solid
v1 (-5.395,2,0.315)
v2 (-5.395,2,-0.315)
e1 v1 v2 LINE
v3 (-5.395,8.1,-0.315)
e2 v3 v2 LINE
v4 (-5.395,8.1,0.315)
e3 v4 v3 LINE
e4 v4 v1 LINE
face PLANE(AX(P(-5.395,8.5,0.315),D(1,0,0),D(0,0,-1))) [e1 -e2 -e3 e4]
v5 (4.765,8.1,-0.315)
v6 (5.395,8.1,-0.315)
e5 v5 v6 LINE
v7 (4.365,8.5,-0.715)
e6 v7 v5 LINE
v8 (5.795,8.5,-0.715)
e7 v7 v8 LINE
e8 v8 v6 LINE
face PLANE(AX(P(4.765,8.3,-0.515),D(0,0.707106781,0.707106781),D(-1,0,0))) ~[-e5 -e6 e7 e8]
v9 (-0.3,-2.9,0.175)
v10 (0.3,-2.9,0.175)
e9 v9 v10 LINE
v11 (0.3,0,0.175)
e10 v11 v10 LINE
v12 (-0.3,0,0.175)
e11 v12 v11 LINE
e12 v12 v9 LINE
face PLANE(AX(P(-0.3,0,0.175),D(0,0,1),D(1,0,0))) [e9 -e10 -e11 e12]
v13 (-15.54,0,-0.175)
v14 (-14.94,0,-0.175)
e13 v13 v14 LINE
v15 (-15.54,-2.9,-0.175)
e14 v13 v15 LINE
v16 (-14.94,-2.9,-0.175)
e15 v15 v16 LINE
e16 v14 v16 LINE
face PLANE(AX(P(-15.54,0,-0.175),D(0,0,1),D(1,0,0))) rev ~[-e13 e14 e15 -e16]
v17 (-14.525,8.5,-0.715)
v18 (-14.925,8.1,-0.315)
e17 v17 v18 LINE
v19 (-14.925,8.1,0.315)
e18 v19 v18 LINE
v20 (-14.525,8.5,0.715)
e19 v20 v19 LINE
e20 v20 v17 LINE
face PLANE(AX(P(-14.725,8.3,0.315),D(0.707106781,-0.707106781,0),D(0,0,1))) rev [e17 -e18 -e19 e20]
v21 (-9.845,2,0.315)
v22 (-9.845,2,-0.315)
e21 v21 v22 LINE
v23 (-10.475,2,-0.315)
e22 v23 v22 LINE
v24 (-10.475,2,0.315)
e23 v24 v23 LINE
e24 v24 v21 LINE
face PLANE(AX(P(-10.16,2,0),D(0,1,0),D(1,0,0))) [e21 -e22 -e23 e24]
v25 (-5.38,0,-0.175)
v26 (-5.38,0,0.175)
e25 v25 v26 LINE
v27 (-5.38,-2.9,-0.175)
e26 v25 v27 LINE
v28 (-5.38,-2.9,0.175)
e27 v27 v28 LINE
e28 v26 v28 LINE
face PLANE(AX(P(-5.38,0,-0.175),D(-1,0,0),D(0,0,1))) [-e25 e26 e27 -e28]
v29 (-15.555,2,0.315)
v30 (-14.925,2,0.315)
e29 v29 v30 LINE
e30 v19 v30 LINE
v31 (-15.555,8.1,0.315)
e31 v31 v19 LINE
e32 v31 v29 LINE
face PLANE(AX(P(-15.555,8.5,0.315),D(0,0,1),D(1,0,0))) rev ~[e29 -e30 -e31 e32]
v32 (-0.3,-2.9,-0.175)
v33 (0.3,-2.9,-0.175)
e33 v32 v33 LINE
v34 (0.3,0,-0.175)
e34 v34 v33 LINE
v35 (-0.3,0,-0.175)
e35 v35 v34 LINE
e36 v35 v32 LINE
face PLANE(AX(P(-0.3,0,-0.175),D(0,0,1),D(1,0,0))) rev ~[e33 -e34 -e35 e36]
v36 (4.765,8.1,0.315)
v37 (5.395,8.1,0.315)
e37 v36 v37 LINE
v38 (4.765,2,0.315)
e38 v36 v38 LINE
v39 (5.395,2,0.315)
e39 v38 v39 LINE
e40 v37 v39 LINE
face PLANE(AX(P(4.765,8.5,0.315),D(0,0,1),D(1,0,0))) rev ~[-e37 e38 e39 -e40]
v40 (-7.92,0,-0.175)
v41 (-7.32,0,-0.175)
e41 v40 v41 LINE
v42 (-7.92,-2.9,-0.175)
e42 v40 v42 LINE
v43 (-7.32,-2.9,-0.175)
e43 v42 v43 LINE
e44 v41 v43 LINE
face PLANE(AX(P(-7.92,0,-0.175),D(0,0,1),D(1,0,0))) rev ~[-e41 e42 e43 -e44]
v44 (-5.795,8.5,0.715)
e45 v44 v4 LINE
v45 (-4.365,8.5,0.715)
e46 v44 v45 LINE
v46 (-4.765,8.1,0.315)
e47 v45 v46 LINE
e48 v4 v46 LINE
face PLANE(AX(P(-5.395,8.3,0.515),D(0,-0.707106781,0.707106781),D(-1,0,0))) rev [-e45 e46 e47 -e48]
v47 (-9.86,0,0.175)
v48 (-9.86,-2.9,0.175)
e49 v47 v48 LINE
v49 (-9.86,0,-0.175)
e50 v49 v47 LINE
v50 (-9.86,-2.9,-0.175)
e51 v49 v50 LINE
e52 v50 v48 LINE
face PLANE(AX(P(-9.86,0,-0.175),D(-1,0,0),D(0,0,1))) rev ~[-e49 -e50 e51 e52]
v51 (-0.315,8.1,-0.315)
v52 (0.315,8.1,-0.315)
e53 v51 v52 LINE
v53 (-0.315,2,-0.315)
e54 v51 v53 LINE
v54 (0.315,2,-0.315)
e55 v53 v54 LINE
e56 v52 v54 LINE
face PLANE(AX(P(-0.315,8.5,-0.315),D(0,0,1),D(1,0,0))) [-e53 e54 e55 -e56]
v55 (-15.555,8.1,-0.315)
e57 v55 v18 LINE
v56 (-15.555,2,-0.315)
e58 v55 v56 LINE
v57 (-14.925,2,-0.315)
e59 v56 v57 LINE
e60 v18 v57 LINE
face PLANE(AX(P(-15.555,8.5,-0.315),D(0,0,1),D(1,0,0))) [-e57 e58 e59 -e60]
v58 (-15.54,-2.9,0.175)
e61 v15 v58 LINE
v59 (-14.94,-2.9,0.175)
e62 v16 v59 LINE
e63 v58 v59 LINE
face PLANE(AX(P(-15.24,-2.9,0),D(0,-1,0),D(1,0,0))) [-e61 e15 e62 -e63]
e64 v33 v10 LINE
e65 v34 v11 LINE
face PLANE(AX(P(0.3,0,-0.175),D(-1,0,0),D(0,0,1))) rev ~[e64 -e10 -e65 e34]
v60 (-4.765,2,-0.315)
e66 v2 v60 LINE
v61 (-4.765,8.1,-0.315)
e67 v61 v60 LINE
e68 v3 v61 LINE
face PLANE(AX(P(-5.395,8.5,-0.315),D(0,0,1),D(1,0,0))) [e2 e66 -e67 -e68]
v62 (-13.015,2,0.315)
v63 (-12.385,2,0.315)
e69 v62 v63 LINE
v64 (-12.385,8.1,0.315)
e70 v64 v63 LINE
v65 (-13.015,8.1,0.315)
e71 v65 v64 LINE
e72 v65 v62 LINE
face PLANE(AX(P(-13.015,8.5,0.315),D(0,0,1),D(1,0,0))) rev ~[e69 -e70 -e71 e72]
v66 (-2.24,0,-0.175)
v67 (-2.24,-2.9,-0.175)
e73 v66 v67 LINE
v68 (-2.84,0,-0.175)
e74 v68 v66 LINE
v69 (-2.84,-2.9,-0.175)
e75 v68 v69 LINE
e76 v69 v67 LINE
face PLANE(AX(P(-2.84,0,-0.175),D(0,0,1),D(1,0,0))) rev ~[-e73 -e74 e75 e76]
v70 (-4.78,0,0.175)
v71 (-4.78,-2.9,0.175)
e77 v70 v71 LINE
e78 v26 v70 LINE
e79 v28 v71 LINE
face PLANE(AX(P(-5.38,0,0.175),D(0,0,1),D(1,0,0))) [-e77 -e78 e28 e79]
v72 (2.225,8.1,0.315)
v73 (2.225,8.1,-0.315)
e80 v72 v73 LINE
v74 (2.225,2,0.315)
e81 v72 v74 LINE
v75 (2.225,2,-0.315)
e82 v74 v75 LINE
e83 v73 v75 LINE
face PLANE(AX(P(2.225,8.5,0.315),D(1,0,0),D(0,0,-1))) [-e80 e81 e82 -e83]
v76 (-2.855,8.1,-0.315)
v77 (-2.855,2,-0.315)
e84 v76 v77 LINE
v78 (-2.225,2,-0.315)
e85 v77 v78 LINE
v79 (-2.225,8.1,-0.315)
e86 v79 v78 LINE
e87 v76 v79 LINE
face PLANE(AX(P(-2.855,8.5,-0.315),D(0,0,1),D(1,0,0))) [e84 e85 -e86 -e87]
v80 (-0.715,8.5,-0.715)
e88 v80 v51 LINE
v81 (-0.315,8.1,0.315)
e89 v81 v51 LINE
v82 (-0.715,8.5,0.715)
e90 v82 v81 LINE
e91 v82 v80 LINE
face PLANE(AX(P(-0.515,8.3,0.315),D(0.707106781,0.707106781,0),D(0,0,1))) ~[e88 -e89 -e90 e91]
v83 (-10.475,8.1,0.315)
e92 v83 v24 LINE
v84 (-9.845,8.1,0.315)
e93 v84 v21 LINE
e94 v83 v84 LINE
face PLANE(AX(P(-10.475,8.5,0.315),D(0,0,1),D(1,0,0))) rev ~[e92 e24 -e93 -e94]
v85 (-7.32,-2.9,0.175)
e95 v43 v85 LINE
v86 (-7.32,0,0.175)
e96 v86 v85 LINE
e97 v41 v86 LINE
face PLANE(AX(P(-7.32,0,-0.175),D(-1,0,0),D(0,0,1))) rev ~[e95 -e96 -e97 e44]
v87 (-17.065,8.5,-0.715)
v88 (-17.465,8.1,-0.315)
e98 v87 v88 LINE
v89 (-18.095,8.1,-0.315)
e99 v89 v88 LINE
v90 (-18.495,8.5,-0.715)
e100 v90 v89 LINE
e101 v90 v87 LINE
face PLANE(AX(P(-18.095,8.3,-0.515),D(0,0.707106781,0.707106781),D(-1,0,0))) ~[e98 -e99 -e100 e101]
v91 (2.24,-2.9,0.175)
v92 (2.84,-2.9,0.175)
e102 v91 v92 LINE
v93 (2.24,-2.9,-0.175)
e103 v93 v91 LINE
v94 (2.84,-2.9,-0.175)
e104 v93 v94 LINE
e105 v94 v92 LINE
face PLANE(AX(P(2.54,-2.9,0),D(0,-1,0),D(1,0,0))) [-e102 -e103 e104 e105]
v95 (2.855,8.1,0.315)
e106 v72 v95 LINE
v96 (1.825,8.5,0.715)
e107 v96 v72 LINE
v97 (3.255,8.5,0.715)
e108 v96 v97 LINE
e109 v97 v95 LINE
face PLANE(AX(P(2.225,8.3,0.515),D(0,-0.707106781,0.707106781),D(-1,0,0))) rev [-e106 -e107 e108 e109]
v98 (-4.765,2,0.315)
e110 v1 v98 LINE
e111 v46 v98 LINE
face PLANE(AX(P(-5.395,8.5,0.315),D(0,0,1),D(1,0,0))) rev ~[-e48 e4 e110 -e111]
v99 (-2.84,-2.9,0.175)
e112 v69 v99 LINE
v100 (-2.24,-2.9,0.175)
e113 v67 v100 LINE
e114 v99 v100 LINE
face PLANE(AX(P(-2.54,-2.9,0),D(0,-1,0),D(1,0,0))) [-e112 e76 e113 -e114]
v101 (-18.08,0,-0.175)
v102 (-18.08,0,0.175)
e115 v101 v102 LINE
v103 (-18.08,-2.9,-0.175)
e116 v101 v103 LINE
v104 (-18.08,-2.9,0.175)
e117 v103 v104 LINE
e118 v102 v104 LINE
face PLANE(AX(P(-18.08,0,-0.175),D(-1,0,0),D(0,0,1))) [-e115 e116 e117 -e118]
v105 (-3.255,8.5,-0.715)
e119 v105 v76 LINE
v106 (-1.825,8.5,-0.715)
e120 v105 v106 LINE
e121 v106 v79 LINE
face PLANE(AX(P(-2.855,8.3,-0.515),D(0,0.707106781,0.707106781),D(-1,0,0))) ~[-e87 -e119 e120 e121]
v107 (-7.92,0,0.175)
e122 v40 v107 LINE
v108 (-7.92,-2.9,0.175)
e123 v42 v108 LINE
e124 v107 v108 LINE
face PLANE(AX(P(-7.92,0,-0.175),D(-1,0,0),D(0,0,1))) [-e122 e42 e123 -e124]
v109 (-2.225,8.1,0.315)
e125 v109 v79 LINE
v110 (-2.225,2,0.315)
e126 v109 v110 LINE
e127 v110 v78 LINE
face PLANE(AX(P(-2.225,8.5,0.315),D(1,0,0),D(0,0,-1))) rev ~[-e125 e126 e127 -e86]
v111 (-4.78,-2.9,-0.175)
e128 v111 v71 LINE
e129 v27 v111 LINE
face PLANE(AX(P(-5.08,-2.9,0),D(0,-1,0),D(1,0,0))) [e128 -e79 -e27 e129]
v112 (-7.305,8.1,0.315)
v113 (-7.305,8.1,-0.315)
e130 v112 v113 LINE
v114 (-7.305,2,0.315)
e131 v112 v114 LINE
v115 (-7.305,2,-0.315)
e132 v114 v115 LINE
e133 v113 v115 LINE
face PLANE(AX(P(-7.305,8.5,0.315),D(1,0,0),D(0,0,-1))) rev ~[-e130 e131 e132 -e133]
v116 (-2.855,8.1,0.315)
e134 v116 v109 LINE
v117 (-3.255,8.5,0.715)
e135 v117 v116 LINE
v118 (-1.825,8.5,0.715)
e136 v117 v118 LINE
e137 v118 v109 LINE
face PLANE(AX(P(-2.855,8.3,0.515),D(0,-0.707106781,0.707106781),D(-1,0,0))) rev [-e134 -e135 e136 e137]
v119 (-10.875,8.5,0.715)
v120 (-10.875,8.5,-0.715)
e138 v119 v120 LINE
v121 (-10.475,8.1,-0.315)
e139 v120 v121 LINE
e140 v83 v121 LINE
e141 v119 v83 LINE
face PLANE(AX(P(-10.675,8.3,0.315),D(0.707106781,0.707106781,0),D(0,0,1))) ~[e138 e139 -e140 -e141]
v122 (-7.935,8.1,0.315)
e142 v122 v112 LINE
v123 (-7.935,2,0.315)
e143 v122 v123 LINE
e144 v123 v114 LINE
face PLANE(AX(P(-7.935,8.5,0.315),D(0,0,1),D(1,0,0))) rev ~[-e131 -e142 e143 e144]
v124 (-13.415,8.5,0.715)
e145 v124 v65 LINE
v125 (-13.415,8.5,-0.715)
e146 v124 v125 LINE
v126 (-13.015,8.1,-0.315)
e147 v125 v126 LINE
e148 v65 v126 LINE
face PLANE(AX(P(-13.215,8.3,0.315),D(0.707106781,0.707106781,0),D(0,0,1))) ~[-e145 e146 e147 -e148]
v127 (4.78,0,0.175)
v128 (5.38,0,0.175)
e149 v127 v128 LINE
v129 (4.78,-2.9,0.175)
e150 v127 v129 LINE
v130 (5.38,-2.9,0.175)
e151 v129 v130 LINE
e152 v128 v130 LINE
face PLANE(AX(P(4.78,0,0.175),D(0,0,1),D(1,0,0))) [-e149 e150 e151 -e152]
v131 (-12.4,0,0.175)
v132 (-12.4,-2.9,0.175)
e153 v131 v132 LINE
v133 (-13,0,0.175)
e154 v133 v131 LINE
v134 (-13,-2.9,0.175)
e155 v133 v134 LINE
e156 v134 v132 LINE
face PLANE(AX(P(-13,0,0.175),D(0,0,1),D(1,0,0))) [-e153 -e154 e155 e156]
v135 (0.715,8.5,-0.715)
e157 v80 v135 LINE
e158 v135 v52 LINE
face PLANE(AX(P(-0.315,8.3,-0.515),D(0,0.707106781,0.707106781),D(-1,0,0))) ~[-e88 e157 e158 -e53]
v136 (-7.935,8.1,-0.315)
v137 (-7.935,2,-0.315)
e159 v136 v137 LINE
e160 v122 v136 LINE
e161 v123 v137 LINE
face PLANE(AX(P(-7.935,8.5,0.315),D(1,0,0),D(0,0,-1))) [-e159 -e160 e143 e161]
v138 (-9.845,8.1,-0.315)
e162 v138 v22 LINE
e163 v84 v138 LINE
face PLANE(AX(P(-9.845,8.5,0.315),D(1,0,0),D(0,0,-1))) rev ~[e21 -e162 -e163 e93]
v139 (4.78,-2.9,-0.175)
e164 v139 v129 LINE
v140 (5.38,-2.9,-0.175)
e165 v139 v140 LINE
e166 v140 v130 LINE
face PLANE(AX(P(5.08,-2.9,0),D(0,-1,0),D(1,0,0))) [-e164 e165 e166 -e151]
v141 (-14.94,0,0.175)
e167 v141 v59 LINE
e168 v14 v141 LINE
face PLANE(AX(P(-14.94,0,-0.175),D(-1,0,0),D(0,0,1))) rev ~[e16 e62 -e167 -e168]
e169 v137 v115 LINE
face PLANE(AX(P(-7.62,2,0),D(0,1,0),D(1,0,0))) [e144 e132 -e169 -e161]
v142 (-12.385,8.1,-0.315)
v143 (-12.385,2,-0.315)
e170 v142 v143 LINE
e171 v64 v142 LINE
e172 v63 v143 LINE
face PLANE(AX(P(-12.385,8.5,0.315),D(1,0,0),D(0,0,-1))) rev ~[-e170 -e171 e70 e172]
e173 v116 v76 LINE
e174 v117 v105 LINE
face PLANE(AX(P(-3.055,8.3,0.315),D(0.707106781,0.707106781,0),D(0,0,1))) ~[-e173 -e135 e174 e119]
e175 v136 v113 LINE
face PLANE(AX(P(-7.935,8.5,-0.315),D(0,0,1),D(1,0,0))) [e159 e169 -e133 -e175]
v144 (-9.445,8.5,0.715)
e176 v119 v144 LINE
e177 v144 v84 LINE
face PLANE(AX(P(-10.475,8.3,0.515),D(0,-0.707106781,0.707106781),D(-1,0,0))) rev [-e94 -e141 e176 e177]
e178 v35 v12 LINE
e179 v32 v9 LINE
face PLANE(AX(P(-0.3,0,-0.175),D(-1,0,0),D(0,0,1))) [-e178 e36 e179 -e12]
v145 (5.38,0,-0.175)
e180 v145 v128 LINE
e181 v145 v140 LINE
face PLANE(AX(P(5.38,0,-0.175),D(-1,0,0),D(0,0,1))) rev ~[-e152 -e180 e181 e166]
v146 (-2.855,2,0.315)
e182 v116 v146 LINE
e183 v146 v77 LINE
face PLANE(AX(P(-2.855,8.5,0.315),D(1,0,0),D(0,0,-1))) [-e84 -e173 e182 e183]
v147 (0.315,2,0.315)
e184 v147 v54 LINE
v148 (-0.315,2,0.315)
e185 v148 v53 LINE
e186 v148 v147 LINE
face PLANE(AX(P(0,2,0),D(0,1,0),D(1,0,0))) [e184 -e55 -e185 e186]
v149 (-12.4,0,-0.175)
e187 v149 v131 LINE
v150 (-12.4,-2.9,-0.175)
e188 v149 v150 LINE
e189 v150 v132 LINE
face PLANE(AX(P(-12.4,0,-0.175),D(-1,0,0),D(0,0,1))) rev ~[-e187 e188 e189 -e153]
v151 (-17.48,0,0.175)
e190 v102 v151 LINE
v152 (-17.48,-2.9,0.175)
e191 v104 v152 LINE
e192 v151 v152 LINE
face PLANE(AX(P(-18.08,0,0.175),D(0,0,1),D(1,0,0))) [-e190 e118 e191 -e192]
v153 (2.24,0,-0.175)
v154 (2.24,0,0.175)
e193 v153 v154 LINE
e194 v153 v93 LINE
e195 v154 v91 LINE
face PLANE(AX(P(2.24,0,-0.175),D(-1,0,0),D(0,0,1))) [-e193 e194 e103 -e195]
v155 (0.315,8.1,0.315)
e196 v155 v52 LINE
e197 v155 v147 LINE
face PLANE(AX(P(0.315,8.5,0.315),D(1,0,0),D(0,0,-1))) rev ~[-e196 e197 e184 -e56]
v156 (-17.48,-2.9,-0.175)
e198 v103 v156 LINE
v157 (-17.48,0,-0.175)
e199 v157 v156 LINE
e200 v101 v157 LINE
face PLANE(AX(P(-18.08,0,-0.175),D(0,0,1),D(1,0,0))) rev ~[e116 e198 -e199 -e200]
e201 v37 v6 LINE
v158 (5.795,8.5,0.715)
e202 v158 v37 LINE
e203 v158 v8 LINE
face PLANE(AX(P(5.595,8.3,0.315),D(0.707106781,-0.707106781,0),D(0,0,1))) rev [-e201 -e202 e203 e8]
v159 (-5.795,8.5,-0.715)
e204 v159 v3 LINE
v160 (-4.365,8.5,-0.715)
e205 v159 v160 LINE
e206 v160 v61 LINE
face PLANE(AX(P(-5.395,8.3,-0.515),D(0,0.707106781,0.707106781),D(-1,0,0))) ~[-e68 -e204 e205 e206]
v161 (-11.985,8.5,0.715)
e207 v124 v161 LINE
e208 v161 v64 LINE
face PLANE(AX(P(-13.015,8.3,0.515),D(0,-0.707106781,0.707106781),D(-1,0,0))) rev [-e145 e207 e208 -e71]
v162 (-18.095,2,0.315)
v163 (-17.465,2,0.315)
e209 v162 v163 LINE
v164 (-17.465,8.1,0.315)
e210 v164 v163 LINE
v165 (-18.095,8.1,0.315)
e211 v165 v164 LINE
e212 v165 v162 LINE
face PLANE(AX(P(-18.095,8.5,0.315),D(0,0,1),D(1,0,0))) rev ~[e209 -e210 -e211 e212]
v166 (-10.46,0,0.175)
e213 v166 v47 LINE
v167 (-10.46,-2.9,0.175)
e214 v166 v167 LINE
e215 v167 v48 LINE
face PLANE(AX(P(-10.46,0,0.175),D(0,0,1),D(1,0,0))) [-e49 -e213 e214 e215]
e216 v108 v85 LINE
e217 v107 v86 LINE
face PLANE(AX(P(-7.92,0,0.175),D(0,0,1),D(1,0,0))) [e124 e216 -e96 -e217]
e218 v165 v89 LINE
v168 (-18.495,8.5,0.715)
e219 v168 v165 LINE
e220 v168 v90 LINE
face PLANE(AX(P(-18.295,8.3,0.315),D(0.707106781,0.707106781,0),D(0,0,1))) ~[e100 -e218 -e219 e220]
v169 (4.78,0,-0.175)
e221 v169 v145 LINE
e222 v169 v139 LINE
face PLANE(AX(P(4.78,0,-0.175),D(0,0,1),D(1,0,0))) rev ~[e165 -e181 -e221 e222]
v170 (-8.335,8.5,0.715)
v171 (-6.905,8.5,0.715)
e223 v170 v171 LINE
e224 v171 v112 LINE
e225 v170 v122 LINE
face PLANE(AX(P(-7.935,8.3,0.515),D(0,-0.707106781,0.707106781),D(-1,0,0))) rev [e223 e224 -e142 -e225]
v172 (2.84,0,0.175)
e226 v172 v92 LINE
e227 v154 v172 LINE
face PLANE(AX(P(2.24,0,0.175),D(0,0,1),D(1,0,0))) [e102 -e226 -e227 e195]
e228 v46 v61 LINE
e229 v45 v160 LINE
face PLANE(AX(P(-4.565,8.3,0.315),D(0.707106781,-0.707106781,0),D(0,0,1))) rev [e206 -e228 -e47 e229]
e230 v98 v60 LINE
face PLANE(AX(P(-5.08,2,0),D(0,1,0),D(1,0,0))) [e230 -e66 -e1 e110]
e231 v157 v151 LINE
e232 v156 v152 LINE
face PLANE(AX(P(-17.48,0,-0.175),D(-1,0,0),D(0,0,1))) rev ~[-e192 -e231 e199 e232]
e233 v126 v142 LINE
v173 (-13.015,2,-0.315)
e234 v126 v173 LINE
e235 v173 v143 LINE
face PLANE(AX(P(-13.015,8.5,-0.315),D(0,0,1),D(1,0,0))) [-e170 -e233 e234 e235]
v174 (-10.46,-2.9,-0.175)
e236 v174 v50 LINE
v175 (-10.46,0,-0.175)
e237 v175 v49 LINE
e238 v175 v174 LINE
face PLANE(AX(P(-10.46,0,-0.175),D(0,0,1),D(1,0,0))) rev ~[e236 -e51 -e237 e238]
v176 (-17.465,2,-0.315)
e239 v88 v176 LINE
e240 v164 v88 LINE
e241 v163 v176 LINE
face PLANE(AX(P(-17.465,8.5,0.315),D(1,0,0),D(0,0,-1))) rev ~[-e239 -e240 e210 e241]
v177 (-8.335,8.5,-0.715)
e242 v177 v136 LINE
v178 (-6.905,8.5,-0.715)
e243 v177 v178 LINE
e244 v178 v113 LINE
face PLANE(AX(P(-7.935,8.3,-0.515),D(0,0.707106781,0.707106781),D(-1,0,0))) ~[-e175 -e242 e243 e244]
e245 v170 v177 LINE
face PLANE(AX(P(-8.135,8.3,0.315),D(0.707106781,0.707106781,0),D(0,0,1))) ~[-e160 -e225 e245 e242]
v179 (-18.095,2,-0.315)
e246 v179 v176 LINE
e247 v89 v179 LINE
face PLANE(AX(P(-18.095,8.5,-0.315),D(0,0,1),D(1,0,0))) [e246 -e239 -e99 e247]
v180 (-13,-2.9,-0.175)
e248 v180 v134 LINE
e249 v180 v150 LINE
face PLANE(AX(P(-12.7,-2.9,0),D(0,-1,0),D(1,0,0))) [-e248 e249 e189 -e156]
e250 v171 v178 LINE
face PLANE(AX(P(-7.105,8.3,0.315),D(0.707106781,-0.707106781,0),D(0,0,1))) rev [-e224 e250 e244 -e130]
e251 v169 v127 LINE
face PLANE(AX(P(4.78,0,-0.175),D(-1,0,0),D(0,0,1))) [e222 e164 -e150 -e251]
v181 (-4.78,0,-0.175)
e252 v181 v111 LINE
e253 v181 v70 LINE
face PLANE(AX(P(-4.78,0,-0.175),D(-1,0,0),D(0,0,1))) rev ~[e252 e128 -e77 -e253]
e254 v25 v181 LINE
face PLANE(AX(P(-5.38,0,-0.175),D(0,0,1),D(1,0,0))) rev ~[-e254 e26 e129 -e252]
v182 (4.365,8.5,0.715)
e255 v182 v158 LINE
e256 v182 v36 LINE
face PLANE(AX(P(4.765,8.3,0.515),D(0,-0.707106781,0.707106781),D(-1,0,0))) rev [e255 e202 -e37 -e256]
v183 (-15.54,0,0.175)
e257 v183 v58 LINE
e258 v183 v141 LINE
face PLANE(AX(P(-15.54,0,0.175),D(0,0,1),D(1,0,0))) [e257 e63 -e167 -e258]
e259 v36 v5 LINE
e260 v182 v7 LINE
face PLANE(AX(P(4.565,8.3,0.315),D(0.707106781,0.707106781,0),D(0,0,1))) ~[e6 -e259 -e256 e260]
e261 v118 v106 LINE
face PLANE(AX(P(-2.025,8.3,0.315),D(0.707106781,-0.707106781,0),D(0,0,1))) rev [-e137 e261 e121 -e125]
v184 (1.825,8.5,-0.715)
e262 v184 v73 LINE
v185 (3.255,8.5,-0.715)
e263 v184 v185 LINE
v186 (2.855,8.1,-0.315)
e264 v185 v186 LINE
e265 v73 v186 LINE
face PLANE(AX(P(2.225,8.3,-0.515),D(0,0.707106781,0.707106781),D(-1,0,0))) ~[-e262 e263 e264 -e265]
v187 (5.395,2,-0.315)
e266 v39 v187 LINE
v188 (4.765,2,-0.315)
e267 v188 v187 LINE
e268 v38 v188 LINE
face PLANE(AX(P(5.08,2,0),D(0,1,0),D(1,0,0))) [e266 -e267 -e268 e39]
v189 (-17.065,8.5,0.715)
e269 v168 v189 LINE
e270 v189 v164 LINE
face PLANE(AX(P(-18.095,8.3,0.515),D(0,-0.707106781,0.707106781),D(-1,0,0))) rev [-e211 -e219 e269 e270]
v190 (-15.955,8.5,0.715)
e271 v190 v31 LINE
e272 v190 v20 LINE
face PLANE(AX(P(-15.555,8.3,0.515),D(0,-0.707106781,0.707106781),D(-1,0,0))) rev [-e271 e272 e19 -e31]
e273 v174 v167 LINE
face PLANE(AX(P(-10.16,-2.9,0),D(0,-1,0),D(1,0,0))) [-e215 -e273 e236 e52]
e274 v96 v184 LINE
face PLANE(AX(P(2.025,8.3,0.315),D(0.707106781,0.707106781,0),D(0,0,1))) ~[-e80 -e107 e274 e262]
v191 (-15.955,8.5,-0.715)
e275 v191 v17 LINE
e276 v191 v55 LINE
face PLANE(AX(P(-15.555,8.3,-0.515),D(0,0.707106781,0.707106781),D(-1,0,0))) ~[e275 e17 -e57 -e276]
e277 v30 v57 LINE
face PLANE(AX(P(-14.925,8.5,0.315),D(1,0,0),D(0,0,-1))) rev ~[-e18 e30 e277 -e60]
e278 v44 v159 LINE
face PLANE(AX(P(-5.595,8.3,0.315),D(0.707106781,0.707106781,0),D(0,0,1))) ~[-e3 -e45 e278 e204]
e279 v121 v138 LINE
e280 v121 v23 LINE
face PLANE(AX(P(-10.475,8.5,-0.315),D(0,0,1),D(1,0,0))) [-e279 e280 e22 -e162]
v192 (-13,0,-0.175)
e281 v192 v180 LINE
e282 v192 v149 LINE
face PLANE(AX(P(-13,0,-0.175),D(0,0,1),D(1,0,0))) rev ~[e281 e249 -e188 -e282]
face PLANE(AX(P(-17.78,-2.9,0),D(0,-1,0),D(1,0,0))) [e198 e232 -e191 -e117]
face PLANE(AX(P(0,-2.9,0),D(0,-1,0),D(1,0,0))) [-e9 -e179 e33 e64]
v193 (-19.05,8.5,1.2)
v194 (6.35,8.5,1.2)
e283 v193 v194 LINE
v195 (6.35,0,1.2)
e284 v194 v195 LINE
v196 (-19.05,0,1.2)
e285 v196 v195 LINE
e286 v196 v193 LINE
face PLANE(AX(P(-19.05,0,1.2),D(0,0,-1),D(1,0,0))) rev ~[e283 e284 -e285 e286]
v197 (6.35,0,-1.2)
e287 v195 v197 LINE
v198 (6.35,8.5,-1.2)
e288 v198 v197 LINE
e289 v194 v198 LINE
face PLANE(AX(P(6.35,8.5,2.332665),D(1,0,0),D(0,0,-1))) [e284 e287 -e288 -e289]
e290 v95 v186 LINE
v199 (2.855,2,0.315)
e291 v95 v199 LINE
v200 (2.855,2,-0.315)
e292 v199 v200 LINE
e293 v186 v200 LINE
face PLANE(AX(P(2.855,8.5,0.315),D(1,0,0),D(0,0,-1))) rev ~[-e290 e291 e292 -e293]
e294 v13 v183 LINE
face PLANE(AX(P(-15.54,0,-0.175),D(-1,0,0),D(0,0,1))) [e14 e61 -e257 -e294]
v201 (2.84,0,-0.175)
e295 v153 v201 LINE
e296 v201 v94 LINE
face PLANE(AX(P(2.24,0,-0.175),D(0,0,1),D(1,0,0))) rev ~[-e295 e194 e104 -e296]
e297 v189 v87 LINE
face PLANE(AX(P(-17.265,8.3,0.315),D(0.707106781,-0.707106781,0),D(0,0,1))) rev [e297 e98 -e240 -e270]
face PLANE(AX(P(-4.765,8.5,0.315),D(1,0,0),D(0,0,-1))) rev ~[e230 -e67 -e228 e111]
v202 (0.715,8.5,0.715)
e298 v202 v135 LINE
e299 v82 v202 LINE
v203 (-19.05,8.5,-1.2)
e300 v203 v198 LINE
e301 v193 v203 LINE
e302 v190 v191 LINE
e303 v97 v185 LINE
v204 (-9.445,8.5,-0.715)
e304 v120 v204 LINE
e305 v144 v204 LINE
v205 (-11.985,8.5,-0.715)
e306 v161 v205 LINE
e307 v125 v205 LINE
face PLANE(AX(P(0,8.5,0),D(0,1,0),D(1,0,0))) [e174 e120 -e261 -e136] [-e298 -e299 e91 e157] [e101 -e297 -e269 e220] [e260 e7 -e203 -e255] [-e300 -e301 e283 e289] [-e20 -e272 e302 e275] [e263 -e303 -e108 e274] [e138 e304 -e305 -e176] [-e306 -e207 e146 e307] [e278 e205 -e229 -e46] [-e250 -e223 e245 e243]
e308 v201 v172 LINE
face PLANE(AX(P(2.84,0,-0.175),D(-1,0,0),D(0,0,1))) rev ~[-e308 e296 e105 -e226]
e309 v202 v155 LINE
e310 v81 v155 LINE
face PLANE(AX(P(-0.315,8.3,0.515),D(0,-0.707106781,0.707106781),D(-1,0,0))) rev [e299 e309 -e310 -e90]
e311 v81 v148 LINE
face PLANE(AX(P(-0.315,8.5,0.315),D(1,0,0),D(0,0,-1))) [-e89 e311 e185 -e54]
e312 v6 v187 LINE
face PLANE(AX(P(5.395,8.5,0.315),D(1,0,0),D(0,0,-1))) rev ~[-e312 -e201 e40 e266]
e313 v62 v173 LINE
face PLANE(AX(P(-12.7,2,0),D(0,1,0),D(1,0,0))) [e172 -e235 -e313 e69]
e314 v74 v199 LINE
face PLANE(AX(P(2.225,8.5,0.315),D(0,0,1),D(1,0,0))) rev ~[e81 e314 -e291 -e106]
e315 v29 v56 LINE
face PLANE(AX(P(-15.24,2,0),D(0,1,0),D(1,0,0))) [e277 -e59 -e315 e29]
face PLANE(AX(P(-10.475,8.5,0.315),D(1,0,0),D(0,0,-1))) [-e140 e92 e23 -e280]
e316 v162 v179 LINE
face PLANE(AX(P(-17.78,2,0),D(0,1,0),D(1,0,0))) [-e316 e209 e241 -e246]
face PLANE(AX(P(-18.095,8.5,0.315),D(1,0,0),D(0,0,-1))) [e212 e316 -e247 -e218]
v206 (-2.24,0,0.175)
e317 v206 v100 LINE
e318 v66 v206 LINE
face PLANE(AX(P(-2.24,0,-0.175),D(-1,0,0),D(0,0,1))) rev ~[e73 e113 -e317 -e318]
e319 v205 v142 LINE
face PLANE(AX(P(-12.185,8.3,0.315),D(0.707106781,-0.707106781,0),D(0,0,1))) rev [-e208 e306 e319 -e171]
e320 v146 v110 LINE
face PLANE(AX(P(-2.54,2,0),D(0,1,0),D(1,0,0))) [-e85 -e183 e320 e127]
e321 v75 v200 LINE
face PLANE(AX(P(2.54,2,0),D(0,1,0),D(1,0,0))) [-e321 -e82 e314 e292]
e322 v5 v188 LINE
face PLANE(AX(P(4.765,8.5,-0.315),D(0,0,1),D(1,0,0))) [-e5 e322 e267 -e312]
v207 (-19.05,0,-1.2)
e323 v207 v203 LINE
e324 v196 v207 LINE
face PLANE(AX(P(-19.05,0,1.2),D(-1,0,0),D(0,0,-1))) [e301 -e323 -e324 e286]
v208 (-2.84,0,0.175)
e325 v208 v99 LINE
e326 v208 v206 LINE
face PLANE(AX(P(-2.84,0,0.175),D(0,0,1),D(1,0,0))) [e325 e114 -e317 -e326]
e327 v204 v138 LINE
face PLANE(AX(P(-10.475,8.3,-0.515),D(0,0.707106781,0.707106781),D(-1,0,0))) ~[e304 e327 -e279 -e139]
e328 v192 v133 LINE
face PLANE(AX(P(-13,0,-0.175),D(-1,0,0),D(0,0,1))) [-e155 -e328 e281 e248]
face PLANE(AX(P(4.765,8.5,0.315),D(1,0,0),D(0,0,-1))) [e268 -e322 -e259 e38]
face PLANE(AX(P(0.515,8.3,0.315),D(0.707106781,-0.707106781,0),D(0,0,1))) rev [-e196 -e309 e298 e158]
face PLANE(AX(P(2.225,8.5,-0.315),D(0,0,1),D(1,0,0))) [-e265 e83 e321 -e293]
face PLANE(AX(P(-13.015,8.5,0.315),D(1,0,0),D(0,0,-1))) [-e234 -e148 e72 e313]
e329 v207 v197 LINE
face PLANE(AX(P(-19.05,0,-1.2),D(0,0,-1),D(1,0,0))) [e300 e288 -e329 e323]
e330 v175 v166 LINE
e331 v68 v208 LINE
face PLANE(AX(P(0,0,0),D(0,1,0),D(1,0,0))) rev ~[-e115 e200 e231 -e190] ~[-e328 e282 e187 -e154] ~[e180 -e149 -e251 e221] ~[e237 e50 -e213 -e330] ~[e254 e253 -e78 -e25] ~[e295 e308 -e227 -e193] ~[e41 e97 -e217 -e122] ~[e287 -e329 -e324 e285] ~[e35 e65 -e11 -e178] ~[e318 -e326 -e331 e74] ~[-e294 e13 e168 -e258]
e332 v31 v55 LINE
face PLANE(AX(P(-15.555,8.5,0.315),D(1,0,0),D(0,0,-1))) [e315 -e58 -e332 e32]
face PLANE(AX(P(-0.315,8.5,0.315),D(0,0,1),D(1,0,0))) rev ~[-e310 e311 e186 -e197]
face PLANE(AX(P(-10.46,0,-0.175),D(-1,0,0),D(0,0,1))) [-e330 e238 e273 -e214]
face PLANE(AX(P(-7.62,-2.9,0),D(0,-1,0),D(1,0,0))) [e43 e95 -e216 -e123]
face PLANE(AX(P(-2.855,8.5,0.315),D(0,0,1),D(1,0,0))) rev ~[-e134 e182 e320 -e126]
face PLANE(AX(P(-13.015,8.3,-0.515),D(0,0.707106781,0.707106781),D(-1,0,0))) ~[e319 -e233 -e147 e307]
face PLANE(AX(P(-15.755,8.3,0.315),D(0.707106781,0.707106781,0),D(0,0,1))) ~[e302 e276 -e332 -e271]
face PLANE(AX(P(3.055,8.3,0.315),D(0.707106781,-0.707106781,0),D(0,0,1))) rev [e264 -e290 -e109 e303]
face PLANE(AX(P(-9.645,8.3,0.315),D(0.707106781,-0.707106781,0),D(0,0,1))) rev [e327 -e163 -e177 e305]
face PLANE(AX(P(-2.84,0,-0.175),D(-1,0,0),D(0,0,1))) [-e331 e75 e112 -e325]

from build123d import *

# Parameters (mm, degrees)
SKETCH1_W           = 38.1
SKETCH1_H           = 2.4
BOSS_EXTRUDE1_DEPTH = 8.5
SKETCH2_W           = 0.63
SKETCH2_H           = 0.63
CUT_EXTRUDE1_DEPTH  = 6.5
SKETCH3_W           = 0.6
SKETCH3_H           = 0.35
BOSS_EXTRUDE2_DEPTH = 2.9
CHAMFER1_SIZE       = 0.4
SKETCH4_W           = 19.378829163
SKETCH4_H           = 4.471478983
CUT_EXTRUDE2_DEPTH  = 23.232914789


with BuildPart() as part:
    # Sketch1 → Boss-Extrude1 (new body)
    with BuildSketch(Plane(origin=(0, 0, 0), x_dir=(1, 0, 0), z_dir=(0, 1, 0))):
        Rectangle(SKETCH1_W, SKETCH1_H)
    extrude(amount=BOSS_EXTRUDE1_DEPTH)

    # Sketch2 → Cut-Extrude1 (cut)
    with BuildSketch(Plane(origin=(0, 8.5, 0), x_dir=(1, 0, 0), z_dir=(0, 1, 0))):
        with Locations((-15.24, 0)):
            Rectangle(SKETCH2_W, SKETCH2_H)
        with Locations((-17.78, 0)):
            Rectangle(SKETCH2_W, SKETCH2_H)
        with Locations((-12.7, 0)):
            Rectangle(SKETCH2_W, SKETCH2_H)
        with Locations((-10.16, 0)):
            Rectangle(SKETCH2_W, SKETCH2_H)
        with Locations((-7.62, 0)):
            Rectangle(SKETCH2_W, SKETCH2_H)
        with Locations((-5.08, 0)):
            Rectangle(SKETCH2_W, SKETCH2_H)
        with Locations((-2.54, 0)):
            Rectangle(SKETCH2_W, SKETCH2_H)
        Rectangle(SKETCH2_W, SKETCH2_H)
        with Locations((2.54, 0)):
            Rectangle(SKETCH2_W, SKETCH2_H)
        with Locations((5.08, 0)):
            Rectangle(SKETCH2_W, SKETCH2_H)
        with Locations((7.62, 0)):
            Rectangle(SKETCH2_W, SKETCH2_H)
        with Locations((10.16, 0)):
            Rectangle(SKETCH2_W, SKETCH2_H)
        with Locations((12.7, 0)):
            Rectangle(SKETCH2_W, SKETCH2_H)
        with Locations((15.24, 0)):
            Rectangle(SKETCH2_W, SKETCH2_H)
        with Locations((17.78, 0)):
            Rectangle(SKETCH2_W, SKETCH2_H)
    extrude(amount=-CUT_EXTRUDE1_DEPTH, mode=Mode.SUBTRACT)

    # Sketch3 → Boss-Extrude2 (add)
    with BuildSketch(Plane.XZ):
        with Locations((-15.24, 0)):
            Rectangle(SKETCH3_W, SKETCH3_H)
        with Locations((-17.78, 0)):
            Rectangle(SKETCH3_W, SKETCH3_H)
        with Locations((-12.7, 0)):
            Rectangle(SKETCH3_W, SKETCH3_H)
        with Locations((-10.16, 0)):
            Rectangle(SKETCH3_W, SKETCH3_H)
        with Locations((-7.62, 0)):
            Rectangle(SKETCH3_W, SKETCH3_H)
        with Locations((-5.08, 0)):
            Rectangle(SKETCH3_W, SKETCH3_H)
        with Locations((-2.54, 0)):
            Rectangle(SKETCH3_W, SKETCH3_H)
        Rectangle(SKETCH3_W, SKETCH3_H)
        with Locations((2.54, 0)):
            Rectangle(SKETCH3_W, SKETCH3_H)
        with Locations((5.08, 0)):
            Rectangle(SKETCH3_W, SKETCH3_H)
        with Locations((7.62, 0)):
            Rectangle(SKETCH3_W, SKETCH3_H)
        with Locations((10.16, 0)):
            Rectangle(SKETCH3_W, SKETCH3_H)
        with Locations((12.7, 0)):
            Rectangle(SKETCH3_W, SKETCH3_H)
        with Locations((15.24, 0)):
            Rectangle(SKETCH3_W, SKETCH3_H)
        with Locations((17.78, 0)):
            Rectangle(SKETCH3_W, SKETCH3_H)
    extrude(amount=BOSS_EXTRUDE2_DEPTH)

    # Chamfer1
    chamfer1_edges = [part.edges().sort_by_distance(p)[0] for p in [
        (2.855, 8.5, 0),
        (2.54, 8.5, -0.315),
        (2.225, 8.5, 0),
        (2.54, 8.5, 0.315),
        (5.395, 8.5, 0),
        (5.08, 8.5, -0.315),
        (4.765, 8.5, 0),
        (5.08, 8.5, 0.315),
        (7.935, 8.5, 0),
        (7.62, 8.5, -0.315),
        (7.305, 8.5, 0),
        (7.62, 8.5, 0.315),
        (10.475, 8.5, 0),
        (10.16, 8.5, -0.315),
        (9.845, 8.5, 0),
        (10.16, 8.5, 0.315),
        (13.015, 8.5, 0),
        (12.7, 8.5, -0.315),
        (12.385, 8.5, 0),
        (12.7, 8.5, 0.315),
        (15.555, 8.5, 0),
        (15.24, 8.5, -0.315),
        (14.925, 8.5, 0),
        (15.24, 8.5, 0.315),
        (18.095, 8.5, 0),
        (17.78, 8.5, -0.315),
        (17.465, 8.5, 0),
        (17.78, 8.5, 0.315),
        (-17.465, 8.5, 0),
        (-17.78, 8.5, -0.315),
        (-18.095, 8.5, 0),
        (-17.78, 8.5, 0.315),
        (-14.925, 8.5, 0),
        (-15.24, 8.5, -0.315),
        (-15.555, 8.5, 0),
        (-15.24, 8.5, 0.315),
        (-12.385, 8.5, 0),
        (-12.7, 8.5, -0.315),
        (-13.015, 8.5, 0),
        (-12.7, 8.5, 0.315),
        (-9.845, 8.5, 0),
        (-10.16, 8.5, -0.315),
        (-10.475, 8.5, 0),
        (-10.16, 8.5, 0.315),
        (-7.305, 8.5, 0),
        (-7.62, 8.5, -0.315),
        (-7.935, 8.5, 0),
        (-7.62, 8.5, 0.315),
        (-4.765, 8.5, 0),
        (-5.08, 8.5, -0.315),
        (-5.395, 8.5, 0),
        (-5.08, 8.5, 0.315),
        (-2.225, 8.5, 0),
        (-2.54, 8.5, -0.315),
        (-2.855, 8.5, 0),
        (-2.54, 8.5, 0.315),
        (0.315, 8.5, 0),
        (0, 8.5, -0.315),
        (-0.315, 8.5, 0),
        (0, 8.5, 0.315),
    ]]
    chamfer(chamfer1_edges, length=CHAMFER1_SIZE)

    # Sketch4 → Cut-Extrude2 (cut, through all)
    with BuildSketch(Plane(origin=(0, 8.5, 0), x_dir=(1, 0, 0), z_dir=(0, 1, 0))):
        with Locations((16.039414582, -0.096925096)):
            Rectangle(SKETCH4_W, SKETCH4_H)
    extrude(amount=-CUT_EXTRUDE2_DEPTH, mode=Mode.SUBTRACT)


solid = part.part
